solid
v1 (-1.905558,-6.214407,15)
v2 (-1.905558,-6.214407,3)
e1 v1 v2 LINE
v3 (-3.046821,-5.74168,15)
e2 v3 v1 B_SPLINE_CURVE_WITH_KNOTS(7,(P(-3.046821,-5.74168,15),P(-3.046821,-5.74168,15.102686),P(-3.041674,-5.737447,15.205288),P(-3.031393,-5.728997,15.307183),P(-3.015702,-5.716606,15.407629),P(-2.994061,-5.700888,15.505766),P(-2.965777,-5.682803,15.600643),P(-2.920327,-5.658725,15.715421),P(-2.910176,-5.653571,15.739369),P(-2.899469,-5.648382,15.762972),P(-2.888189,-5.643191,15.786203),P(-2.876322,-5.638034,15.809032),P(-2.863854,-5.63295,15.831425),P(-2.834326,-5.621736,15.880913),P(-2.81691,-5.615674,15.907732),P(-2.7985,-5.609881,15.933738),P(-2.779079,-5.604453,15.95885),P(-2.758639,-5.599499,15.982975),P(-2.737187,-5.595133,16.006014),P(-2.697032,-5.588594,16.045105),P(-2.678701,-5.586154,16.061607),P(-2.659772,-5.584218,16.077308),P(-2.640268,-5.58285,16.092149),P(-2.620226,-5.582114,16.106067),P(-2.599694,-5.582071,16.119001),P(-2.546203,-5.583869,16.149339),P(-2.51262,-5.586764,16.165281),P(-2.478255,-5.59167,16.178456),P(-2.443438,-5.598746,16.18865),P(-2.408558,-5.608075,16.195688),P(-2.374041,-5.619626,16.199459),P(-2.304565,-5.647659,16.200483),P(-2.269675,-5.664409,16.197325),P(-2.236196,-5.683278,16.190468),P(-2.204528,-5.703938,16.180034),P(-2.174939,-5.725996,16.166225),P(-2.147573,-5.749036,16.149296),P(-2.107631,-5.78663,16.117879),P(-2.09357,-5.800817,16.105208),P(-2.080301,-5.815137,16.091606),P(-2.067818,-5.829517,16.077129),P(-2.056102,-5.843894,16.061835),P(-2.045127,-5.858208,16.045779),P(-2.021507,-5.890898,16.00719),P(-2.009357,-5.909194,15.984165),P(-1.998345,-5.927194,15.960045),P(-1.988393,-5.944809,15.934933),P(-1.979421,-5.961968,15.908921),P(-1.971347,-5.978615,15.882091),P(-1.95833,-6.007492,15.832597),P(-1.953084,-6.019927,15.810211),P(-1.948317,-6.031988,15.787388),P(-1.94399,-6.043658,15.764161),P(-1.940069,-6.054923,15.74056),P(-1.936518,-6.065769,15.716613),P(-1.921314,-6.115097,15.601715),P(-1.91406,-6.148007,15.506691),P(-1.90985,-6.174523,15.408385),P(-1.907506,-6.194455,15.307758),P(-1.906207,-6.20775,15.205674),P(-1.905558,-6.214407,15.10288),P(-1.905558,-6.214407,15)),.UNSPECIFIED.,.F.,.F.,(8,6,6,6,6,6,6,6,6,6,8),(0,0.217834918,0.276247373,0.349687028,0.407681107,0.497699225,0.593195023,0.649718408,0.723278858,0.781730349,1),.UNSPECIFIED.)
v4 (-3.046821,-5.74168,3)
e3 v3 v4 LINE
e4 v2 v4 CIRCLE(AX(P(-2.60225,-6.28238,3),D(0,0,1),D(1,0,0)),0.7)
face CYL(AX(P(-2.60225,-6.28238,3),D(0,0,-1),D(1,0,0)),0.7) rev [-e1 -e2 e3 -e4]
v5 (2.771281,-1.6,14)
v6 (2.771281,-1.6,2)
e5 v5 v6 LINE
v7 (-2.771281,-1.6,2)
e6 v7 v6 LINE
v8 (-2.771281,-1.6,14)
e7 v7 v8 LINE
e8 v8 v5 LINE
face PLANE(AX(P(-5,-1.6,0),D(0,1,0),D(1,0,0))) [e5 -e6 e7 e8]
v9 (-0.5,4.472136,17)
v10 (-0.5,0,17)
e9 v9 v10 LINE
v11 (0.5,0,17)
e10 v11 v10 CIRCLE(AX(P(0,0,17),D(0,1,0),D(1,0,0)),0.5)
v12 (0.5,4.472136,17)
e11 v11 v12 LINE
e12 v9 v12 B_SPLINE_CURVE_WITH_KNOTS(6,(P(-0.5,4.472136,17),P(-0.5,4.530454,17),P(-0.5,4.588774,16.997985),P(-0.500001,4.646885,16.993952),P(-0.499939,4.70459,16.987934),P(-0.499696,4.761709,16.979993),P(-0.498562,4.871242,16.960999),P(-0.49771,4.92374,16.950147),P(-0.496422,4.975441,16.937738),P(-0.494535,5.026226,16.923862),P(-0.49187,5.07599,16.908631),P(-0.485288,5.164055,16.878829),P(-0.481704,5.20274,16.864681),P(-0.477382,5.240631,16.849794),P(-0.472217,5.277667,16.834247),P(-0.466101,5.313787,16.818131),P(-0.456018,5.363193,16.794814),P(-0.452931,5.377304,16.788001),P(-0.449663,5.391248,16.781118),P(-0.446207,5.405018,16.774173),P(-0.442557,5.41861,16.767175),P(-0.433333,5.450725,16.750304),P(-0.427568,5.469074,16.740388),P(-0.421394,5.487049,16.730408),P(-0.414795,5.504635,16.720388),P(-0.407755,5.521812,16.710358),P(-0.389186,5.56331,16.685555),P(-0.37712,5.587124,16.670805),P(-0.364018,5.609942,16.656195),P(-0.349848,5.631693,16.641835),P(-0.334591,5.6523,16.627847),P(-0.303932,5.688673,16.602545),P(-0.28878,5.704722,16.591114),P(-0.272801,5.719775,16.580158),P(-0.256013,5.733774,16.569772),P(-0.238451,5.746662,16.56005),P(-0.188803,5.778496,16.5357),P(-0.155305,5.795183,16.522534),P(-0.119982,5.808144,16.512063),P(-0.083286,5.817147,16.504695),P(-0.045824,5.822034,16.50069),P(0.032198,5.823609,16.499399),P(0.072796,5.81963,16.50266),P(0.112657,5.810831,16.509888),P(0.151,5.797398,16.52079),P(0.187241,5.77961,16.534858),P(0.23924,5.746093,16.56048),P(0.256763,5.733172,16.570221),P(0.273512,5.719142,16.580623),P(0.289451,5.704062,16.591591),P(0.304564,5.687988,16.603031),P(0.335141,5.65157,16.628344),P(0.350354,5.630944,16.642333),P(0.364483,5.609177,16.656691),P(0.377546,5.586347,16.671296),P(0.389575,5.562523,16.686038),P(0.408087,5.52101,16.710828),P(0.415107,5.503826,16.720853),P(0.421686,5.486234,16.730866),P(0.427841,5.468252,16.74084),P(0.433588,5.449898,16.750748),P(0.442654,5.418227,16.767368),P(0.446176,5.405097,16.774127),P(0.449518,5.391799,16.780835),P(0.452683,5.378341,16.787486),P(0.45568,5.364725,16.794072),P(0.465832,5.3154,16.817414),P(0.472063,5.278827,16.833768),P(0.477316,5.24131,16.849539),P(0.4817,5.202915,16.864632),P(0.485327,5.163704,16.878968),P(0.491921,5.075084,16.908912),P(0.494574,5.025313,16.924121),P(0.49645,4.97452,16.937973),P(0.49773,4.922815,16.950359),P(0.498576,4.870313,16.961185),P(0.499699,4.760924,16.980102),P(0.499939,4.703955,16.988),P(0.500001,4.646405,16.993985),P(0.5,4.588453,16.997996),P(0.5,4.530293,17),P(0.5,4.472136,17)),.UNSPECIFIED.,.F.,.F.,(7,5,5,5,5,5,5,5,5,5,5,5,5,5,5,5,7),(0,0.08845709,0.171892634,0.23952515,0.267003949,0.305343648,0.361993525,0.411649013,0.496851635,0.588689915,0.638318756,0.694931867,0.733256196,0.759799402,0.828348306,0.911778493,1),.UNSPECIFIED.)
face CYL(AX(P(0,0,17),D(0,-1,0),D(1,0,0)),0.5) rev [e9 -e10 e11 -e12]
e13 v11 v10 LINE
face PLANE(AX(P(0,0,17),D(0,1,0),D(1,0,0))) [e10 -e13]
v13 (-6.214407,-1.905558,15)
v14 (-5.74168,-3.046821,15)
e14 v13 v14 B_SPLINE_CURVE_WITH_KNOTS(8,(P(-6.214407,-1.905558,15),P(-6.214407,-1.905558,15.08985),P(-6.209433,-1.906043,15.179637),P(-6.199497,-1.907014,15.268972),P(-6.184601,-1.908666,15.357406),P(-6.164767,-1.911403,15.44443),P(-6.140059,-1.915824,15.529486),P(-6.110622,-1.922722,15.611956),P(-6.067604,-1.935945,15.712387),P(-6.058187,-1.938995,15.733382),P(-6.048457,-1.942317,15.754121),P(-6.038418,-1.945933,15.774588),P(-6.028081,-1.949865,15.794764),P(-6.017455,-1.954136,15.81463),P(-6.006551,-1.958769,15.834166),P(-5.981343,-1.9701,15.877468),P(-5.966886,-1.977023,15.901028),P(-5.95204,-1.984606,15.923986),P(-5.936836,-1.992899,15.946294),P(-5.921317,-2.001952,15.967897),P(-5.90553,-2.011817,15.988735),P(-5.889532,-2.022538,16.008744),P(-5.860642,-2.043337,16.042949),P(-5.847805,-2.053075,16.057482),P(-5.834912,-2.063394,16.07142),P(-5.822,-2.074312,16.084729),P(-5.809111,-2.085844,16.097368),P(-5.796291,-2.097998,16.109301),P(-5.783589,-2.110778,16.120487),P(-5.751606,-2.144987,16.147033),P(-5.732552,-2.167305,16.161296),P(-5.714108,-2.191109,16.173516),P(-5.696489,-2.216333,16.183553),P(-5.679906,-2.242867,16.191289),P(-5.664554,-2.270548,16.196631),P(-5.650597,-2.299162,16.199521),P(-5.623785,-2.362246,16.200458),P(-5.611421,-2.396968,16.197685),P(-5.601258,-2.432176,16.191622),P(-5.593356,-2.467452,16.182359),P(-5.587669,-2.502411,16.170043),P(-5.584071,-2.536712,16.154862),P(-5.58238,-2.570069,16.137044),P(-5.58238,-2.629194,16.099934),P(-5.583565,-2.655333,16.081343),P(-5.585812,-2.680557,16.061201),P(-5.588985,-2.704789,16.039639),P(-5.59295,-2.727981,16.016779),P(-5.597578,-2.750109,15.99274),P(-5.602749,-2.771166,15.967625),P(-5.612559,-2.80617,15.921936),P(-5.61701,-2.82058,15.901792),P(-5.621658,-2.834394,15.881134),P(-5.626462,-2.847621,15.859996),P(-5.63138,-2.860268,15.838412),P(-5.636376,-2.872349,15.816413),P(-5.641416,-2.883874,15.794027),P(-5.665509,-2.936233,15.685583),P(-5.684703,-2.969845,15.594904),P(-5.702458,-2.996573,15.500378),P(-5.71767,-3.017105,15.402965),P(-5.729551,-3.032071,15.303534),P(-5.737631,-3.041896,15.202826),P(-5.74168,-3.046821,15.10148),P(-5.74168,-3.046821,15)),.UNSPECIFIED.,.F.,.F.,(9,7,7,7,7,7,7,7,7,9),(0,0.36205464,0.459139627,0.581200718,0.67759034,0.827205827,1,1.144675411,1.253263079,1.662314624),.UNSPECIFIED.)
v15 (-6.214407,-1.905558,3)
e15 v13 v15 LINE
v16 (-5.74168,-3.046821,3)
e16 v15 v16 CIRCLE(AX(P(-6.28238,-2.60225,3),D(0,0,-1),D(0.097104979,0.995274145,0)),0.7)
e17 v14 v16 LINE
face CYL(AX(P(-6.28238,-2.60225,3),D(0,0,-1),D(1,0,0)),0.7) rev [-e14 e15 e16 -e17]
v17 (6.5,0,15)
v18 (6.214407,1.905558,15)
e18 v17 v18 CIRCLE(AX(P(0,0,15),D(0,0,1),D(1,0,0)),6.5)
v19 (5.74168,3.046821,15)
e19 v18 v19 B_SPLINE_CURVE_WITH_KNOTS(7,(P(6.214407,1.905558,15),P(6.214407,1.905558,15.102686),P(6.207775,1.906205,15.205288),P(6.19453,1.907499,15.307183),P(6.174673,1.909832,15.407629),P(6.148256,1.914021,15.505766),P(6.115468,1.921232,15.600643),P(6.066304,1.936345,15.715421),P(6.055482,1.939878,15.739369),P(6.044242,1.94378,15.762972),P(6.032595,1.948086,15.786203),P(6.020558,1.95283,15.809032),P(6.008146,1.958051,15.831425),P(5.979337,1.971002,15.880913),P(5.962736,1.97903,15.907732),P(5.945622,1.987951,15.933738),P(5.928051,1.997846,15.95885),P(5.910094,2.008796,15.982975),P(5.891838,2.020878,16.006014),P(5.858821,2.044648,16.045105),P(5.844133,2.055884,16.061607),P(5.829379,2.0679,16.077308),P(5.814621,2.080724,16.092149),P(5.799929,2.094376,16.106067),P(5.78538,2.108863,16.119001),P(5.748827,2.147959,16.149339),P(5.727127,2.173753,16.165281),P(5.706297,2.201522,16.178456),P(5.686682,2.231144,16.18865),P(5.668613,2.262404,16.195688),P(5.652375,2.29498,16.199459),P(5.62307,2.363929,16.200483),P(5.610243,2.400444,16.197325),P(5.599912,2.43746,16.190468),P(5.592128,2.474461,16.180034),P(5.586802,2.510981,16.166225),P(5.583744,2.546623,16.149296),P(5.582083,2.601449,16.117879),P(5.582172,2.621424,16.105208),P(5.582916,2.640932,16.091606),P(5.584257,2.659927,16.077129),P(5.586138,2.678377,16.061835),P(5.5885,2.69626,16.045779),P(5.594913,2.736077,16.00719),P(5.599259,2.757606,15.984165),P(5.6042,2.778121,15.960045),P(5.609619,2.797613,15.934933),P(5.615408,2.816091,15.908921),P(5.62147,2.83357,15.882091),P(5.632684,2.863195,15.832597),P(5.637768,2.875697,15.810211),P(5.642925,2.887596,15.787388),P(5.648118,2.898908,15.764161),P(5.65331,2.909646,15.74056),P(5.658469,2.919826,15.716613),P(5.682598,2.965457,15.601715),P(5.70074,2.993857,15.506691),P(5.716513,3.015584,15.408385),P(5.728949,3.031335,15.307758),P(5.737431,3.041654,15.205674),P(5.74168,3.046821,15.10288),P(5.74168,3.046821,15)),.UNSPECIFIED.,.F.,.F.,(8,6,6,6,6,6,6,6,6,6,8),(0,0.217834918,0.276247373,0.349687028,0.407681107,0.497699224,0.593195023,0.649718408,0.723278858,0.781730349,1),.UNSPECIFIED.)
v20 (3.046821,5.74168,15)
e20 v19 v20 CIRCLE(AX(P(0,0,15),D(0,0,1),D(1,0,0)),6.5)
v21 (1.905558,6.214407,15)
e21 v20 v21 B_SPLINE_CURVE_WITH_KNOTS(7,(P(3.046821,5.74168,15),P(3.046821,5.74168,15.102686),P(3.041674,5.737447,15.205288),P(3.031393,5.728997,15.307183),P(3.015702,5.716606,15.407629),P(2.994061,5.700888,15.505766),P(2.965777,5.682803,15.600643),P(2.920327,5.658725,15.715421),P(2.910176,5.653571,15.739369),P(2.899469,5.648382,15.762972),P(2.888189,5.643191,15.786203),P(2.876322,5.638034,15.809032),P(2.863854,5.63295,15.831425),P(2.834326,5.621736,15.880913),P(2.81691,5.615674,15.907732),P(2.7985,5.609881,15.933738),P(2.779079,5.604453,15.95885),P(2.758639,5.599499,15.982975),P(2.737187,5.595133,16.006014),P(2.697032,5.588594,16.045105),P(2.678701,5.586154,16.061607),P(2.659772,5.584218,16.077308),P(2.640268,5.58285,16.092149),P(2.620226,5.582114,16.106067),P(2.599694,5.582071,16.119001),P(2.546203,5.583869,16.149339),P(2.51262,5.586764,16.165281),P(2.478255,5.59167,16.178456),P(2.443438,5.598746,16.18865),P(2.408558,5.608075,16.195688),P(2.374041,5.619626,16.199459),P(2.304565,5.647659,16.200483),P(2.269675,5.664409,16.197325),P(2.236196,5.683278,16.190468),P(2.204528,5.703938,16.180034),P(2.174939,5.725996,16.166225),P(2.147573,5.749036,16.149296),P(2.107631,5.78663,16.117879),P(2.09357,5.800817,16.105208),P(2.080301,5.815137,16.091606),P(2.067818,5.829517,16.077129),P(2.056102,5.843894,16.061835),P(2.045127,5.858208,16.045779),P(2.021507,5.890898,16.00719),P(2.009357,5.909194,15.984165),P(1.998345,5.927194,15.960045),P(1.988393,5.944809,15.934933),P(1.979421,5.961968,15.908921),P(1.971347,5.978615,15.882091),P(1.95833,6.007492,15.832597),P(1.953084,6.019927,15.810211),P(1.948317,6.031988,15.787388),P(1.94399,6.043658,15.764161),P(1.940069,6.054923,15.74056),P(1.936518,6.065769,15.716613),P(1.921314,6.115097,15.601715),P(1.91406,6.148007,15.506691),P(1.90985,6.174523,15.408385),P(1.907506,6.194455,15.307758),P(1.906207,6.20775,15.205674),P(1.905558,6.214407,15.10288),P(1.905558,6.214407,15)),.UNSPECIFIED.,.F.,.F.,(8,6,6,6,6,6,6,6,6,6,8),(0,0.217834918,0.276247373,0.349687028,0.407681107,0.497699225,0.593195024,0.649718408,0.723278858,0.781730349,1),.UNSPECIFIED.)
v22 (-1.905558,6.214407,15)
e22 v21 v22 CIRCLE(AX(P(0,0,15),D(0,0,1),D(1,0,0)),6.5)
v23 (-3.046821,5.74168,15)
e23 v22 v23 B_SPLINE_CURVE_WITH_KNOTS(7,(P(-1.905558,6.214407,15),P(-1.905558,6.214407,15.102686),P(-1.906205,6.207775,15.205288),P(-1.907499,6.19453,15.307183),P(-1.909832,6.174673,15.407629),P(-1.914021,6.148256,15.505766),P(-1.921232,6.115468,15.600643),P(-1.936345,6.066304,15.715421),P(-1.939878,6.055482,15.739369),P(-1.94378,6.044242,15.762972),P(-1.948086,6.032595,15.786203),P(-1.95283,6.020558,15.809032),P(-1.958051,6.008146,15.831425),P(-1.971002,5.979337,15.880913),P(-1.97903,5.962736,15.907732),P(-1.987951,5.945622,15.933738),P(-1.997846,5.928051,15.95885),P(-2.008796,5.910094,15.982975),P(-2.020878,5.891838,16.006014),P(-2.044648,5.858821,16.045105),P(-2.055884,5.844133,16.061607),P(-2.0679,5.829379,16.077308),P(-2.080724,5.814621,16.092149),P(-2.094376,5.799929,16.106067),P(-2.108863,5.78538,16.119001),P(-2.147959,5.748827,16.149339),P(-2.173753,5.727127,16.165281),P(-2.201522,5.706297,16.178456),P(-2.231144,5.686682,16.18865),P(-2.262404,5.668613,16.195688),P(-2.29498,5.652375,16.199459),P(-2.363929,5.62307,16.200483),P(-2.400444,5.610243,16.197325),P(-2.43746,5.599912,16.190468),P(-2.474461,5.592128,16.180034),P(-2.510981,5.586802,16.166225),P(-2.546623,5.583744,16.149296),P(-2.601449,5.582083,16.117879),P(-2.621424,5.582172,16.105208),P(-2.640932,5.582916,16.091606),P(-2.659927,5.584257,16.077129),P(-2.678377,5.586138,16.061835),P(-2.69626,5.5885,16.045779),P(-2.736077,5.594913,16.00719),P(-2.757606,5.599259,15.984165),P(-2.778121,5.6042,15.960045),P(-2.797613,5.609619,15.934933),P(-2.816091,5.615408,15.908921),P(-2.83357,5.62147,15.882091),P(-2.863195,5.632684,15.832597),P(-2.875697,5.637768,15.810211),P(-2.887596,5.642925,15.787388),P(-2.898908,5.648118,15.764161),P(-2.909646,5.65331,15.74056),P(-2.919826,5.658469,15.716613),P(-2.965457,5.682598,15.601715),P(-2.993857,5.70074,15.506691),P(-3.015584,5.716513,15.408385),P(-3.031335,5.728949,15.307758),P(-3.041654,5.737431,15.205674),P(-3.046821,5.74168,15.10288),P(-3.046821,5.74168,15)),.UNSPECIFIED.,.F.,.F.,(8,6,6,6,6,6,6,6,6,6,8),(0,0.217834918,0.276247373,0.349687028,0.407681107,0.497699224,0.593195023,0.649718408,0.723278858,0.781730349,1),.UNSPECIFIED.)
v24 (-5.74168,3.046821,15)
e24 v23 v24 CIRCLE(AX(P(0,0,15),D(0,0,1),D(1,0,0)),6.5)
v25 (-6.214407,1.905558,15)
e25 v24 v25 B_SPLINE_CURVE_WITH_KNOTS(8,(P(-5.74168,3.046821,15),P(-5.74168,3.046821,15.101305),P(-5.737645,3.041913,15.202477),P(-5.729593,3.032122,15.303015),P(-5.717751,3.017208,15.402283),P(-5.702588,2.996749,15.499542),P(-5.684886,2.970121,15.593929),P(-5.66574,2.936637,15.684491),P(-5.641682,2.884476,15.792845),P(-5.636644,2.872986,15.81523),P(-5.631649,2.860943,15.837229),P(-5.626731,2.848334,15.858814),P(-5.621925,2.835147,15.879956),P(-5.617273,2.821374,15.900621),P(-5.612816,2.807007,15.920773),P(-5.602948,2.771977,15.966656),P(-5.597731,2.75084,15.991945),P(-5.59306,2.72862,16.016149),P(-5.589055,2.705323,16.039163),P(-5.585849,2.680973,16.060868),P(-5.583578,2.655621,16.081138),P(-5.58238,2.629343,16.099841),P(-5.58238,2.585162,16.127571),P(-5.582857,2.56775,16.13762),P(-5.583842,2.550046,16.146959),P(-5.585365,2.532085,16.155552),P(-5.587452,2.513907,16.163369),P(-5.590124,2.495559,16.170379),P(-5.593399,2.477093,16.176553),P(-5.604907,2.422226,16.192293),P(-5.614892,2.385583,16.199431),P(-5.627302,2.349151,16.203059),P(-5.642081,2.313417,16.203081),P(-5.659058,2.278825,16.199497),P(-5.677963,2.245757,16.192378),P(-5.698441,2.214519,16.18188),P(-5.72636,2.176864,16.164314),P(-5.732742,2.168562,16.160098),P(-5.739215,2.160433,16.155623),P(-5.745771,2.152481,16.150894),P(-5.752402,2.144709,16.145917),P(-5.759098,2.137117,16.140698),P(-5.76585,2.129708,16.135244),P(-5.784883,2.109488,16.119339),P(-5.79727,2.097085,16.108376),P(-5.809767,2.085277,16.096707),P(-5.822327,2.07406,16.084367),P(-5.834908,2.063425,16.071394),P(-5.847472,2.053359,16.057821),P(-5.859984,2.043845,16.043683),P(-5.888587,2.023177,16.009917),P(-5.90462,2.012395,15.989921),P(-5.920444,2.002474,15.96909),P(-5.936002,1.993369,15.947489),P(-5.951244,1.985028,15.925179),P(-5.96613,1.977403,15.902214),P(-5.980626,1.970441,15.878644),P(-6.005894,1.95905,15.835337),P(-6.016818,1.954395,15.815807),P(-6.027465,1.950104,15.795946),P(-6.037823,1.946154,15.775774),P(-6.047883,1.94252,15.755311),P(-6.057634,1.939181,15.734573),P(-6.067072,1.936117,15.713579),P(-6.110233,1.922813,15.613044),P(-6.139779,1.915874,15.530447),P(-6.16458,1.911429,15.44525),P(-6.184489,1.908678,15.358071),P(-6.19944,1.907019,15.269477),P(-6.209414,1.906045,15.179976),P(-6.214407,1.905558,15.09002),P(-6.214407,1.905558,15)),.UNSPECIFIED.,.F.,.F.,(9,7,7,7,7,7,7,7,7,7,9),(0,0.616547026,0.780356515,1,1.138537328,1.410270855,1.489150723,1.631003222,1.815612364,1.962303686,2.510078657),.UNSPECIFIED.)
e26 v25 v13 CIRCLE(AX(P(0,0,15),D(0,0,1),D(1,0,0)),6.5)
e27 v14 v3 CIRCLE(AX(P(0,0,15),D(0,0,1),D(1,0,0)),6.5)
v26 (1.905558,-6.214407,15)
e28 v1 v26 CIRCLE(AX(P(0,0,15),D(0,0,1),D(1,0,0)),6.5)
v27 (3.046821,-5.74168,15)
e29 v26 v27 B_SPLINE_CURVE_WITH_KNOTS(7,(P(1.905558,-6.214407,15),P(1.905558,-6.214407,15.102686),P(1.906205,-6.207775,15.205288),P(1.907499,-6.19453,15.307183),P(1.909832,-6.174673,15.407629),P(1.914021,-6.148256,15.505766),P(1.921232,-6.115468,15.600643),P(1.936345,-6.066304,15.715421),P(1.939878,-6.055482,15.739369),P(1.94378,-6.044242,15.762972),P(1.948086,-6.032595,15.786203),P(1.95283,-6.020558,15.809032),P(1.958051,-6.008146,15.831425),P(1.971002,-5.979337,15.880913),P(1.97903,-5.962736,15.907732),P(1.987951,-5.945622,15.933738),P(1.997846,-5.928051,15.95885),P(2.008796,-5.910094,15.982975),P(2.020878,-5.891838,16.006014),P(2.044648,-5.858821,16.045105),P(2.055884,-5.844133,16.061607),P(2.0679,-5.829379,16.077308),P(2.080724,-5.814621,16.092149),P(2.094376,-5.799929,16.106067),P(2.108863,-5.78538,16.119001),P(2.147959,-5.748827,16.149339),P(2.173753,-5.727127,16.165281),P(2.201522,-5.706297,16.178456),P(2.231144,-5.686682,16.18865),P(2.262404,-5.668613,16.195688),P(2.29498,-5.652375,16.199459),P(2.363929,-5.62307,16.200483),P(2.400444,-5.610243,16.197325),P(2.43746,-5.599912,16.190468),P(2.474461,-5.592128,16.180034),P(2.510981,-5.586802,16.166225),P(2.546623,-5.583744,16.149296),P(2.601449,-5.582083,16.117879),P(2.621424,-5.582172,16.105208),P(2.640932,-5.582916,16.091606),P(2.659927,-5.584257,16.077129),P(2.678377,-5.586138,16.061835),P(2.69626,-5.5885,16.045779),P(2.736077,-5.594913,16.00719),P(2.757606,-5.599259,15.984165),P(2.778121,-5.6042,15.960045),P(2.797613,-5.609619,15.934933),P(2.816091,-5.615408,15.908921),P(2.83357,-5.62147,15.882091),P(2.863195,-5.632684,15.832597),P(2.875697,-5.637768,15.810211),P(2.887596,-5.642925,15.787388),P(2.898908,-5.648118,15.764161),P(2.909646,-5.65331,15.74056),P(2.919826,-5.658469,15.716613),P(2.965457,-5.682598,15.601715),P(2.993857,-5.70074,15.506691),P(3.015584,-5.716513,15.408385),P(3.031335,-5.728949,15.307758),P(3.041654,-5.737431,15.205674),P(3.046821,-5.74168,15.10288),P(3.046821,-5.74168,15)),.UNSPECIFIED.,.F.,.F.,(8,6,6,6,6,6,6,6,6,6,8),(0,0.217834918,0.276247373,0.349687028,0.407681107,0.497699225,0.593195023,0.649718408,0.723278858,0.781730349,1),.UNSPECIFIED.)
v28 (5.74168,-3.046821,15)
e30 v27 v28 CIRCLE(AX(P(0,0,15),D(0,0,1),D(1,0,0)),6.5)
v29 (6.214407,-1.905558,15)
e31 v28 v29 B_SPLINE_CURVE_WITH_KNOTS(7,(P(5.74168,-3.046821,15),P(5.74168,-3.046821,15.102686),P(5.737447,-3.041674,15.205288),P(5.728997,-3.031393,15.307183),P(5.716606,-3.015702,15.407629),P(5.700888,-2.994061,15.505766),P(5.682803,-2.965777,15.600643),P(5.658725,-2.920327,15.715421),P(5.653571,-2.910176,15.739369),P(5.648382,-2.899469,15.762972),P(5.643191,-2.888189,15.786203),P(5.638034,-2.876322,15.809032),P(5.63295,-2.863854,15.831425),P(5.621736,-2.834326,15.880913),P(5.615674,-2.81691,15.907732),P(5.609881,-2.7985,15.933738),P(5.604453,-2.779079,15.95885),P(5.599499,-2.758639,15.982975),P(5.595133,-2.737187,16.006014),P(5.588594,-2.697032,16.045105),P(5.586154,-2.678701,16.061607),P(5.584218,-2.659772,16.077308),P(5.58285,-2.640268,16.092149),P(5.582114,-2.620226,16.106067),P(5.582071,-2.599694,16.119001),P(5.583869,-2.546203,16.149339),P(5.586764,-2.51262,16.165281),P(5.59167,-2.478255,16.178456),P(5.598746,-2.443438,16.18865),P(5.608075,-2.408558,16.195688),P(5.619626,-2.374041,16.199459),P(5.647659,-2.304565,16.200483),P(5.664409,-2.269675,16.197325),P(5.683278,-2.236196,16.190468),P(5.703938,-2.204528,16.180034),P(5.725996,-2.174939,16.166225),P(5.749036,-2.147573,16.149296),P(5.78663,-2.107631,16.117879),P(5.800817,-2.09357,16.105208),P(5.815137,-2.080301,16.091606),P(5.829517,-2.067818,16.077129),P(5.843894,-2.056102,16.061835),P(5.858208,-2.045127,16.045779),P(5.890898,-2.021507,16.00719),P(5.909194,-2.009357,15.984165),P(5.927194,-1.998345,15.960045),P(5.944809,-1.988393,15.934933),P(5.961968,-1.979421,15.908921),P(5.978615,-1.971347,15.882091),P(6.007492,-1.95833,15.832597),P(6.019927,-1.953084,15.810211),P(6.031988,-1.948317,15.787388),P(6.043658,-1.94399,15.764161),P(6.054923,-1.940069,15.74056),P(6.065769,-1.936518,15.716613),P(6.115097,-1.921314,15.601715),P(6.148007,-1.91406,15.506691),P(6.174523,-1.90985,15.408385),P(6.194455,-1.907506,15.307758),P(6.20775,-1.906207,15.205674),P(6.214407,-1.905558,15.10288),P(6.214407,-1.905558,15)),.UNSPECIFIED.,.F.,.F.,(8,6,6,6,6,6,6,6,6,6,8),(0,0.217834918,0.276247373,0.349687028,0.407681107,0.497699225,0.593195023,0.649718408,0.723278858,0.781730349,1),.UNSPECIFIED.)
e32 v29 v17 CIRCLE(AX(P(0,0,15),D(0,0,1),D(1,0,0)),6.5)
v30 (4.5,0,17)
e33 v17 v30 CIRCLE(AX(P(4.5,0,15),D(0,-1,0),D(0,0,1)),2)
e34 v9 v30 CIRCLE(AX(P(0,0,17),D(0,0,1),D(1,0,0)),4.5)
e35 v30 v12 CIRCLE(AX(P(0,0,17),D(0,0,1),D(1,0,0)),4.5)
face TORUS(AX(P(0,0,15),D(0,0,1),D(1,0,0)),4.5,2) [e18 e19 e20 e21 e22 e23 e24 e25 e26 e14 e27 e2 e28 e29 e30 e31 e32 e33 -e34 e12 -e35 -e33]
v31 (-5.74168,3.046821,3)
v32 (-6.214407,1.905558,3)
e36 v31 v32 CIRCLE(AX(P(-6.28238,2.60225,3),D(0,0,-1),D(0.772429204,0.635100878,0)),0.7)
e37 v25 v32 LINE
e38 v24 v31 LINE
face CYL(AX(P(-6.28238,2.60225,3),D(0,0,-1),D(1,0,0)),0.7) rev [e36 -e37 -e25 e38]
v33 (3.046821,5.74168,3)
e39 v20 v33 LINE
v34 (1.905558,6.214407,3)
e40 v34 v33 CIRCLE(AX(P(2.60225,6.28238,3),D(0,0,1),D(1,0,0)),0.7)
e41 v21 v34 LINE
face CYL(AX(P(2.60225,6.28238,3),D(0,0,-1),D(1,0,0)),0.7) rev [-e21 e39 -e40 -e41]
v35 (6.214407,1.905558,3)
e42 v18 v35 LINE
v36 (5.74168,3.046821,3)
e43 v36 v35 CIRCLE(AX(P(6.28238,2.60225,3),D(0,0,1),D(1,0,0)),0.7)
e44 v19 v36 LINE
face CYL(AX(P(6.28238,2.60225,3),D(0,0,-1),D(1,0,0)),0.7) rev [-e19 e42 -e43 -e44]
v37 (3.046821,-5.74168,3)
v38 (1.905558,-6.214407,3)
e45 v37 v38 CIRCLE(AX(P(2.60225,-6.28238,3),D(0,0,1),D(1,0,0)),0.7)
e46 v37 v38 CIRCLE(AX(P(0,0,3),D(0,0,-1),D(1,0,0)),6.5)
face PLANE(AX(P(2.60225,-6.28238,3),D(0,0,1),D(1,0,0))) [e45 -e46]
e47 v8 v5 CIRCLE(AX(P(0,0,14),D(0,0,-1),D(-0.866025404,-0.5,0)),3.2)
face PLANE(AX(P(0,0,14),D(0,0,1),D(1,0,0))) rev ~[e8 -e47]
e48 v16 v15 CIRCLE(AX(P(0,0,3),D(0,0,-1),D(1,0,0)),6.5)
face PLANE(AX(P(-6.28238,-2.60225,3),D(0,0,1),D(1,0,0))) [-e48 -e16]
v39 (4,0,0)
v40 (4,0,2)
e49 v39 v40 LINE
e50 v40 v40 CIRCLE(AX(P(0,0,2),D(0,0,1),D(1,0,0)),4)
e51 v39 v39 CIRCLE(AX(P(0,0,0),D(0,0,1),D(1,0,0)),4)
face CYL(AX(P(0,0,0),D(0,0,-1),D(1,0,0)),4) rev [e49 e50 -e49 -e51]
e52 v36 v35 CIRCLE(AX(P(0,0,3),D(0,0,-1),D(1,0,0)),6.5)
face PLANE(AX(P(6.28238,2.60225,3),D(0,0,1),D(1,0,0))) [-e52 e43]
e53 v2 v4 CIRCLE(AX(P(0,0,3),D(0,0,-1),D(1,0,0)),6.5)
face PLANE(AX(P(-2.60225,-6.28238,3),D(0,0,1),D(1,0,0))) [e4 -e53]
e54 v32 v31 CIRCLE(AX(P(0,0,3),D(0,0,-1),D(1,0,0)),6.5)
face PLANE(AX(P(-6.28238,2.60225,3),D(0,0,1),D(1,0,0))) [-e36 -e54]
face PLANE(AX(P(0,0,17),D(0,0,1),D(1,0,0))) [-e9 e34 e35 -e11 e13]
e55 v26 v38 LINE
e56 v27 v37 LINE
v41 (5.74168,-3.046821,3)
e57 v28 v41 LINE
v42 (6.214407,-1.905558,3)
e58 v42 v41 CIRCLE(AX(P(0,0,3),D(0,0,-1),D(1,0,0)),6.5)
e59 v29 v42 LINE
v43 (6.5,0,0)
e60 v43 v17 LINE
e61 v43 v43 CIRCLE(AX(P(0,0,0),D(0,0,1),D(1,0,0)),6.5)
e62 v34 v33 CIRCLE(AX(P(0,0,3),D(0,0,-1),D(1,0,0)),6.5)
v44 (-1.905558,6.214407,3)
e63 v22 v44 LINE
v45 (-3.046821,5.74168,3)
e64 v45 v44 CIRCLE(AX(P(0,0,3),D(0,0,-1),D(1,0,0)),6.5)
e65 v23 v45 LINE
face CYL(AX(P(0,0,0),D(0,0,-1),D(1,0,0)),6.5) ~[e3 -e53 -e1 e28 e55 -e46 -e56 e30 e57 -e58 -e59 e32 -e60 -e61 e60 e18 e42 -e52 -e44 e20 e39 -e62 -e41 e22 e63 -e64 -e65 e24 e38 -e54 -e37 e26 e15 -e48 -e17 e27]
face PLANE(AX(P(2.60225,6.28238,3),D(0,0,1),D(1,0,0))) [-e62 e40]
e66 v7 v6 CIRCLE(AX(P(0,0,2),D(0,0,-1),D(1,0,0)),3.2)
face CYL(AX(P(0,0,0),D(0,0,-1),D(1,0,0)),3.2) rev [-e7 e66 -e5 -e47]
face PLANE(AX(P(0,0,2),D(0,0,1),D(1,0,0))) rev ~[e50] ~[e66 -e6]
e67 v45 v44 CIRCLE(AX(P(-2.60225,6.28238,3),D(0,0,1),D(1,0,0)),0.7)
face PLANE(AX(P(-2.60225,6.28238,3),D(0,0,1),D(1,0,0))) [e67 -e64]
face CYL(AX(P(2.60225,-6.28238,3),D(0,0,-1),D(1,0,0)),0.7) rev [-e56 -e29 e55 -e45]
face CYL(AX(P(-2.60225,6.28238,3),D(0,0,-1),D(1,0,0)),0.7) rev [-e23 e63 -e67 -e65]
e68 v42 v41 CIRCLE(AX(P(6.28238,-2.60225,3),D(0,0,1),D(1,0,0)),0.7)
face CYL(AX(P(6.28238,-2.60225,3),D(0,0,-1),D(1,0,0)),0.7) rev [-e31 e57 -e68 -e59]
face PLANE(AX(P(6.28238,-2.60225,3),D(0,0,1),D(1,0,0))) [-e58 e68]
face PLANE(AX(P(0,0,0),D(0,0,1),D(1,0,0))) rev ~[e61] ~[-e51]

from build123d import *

# Parameters (mm, degrees)
CYLINDER_R                    = 4
CYLINDER_DEPTH                = 2
CYLINDER004_R                 = 0.7
CYLINDER004_DEPTH             = 15
CYLINDER005_R                 = 0.7
CYLINDER005_DEPTH             = 15
CYLINDER006_R                 = 0.7
CYLINDER006_DEPTH             = 15
CYLINDER007_R                 = 0.7
CYLINDER007_DEPTH             = 15
CYLINDER008_R                 = 0.7
CYLINDER008_DEPTH             = 15
CYLINDER009_R                 = 0.7
CYLINDER009_DEPTH             = 15
CYLINDER010_R                 = 0.7
CYLINDER010_DEPTH             = 15
CYLINDER003_R                 = 0.7
CYLINDER003_DEPTH             = 15
CUBE_W                        = 10
CUBE_H                        = 5
CUBE_DEPTH                    = 12
CYLINDER011_R                 = 3.2
CYLINDER011_DEPTH             = 12
CUBE001_W                     = 10
CUBE001_H                     = 5
CUBE001_DEPTH                 = 8
CYLINDER012_R                 = 3.2
CYLINDER012_DEPTH             = 2
CYLINDER002_R                 = 0.5
CYLINDER002_DEPTH             = 6.5
CYLINDER001_R                 = 4.5
CYLINDER001_DEPTH             = 2
REFINEROTATEEXTRUDE_R         = 2
ROTATEEXTRUDE_PLACEMENT_ANGLE = 90
CYLINDER_R_2                  = 6.5
CYLINDER_DEPTH_2              = 15


with BuildPart() as cylinder:
    # Cylinder → Cylinder (new body)
    with BuildSketch(Plane.XY):
        Circle(CYLINDER_R)
    extrude(amount=CYLINDER_DEPTH)


with BuildPart() as cylinder004:
    # cylinder004 → cylinder004 (new body)
    with BuildSketch(Plane(origin=(6.28238, 2.60225, 3), x_dir=(1, 0, 0), z_dir=(0, 0, 1))):
        Circle(CYLINDER004_R)
    extrude(amount=CYLINDER004_DEPTH)


with BuildPart() as cylinder005:
    # cylinder005 → cylinder005 (new body)
    with BuildSketch(Plane(origin=(6.28238, -2.60225, 3), x_dir=(1, 0, 0), z_dir=(0, 0, 1))):
        Circle(CYLINDER005_R)
    extrude(amount=CYLINDER005_DEPTH)


with BuildPart() as cylinder006:
    # cylinder006 → cylinder006 (new body)
    with BuildSketch(Plane(origin=(2.60225, -6.28238, 3), x_dir=(1, 0, 0), z_dir=(0, 0, 1))):
        Circle(CYLINDER006_R)
    extrude(amount=CYLINDER006_DEPTH)


with BuildPart() as cylinder007:
    # cylinder007 → cylinder007 (new body)
    with BuildSketch(Plane(origin=(-2.60225, -6.28238, 3), x_dir=(1, 0, 0), z_dir=(0, 0, 1))):
        Circle(CYLINDER007_R)
    extrude(amount=CYLINDER007_DEPTH)


with BuildPart() as cylinder008:
    # cylinder008 → cylinder008 (new body)
    with BuildSketch(Plane(origin=(-6.28238, -2.60225, 3), x_dir=(1, 0, 0), z_dir=(0, 0, 1))):
        Circle(CYLINDER008_R)
    extrude(amount=CYLINDER008_DEPTH)


with BuildPart() as cylinder009:
    # cylinder009 → cylinder009 (new body)
    with BuildSketch(Plane(origin=(-6.28238, 2.60225, 3), x_dir=(1, 0, 0), z_dir=(0, 0, 1))):
        Circle(CYLINDER009_R)
    extrude(amount=CYLINDER009_DEPTH)


with BuildPart() as cylinder010:
    # cylinder010 → cylinder010 (new body)
    with BuildSketch(Plane(origin=(-2.60225, 6.28238, 3), x_dir=(1, 0, 0), z_dir=(0, 0, 1))):
        Circle(CYLINDER010_R)
    extrude(amount=CYLINDER010_DEPTH)


with BuildPart() as group:
    # cylinder003 → cylinder003 (new body)
    with BuildSketch(Plane(origin=(2.60225, 6.28238, 3), x_dir=(1, 0, 0), z_dir=(0, 0, 1))):
        Circle(CYLINDER003_R)
    extrude(amount=CYLINDER003_DEPTH)

    # Group: union cylinder004, cylinder005, cylinder006, cylinder007, cylinder008, cylinder009, cylinder010
    add(cylinder004.part)
    add(cylinder005.part)
    add(cylinder006.part)
    add(cylinder007.part)
    add(cylinder008.part)
    add(cylinder009.part)
    add(cylinder010.part)


with BuildPart() as cube:
    # cube → cube (new body)
    with BuildSketch(Plane(origin=(-5, -6.6, 2), x_dir=(1, 0, 0), z_dir=(0, 0, 1))):
        with Locations((5, 2.5)):
            Rectangle(CUBE_W, CUBE_H)
    extrude(amount=CUBE_DEPTH)


with BuildPart() as difference:
    # cylinder011 → cylinder011 (new body)
    with BuildSketch(Plane.XY.offset(2)):
        Circle(CYLINDER011_R)
    extrude(amount=CYLINDER011_DEPTH)

    # difference: cut cube
    add(cube.part, mode=Mode.SUBTRACT)


with BuildPart() as cube001:
    # cube001 → cube001 (new body)
    with BuildSketch(Plane(origin=(-5, -6.6, 0), x_dir=(1, 0, 0), z_dir=(0, 0, 1))):
        with Locations((5, 2.5)):
            Rectangle(CUBE001_W, CUBE001_H)
    extrude(amount=CUBE001_DEPTH)


with BuildPart() as difference001:
    # cylinder012 → cylinder012 (new body)
    with BuildSketch(Plane.XY):
        Circle(CYLINDER012_R)
    extrude(amount=CYLINDER012_DEPTH)

    # difference001: cut cube001
    add(cube001.part, mode=Mode.SUBTRACT)


with BuildPart() as union001:
    # cylinder002 → cylinder002 (new body)
    with BuildSketch(Plane(origin=(0, 0, 17), x_dir=(1, 0, 0), z_dir=(0, 1, 0))):
        Circle(CYLINDER002_R)
    extrude(amount=CYLINDER002_DEPTH)

    # union001: union Group, difference, difference001
    add(group.part)
    add(difference.part)
    add(difference001.part)


with BuildPart() as cylinder001:
    # cylinder001 → cylinder001 (new body)
    with BuildSketch(Plane.XY.offset(15)):
        Circle(CYLINDER001_R)
    extrude(amount=CYLINDER001_DEPTH)


with BuildPart() as rotateextrude:
    # RefineRotateExtrude → RotateExtrude (revolve)
    with BuildSketch(Plane(origin=(4.5, 0, 0), x_dir=(0, 1, 0), z_dir=(0, 0, 1))):
        Circle(REFINEROTATEEXTRUDE_R)
    revolve(axis=Axis((0, 0, 0), (0, 1, 0)))


with BuildPart() as rotateextrude_1:
    # RotateExtrude placement: moved
    add(rotateextrude.part.moved(Location((0, 0, 15))).rotate(Axis((0, 0, 15), (1, 0, 0)), ROTATEEXTRUDE_PLACEMENT_ANGLE))


with BuildPart() as cut:
    # cylinder → cylinder (new body)
    with BuildSketch(Plane.XY):
        Circle(CYLINDER_R_2)
    extrude(amount=CYLINDER_DEPTH_2)

    # union: union cylinder001, RotateExtrude
    add(cylinder001.part)
    add(rotateextrude_1.part)

    # difference002: cut union001
    add(union001.part, mode=Mode.SUBTRACT)

    # Cut: cut Cylinder
    add(cylinder.part, mode=Mode.SUBTRACT)


solid = cut.part
